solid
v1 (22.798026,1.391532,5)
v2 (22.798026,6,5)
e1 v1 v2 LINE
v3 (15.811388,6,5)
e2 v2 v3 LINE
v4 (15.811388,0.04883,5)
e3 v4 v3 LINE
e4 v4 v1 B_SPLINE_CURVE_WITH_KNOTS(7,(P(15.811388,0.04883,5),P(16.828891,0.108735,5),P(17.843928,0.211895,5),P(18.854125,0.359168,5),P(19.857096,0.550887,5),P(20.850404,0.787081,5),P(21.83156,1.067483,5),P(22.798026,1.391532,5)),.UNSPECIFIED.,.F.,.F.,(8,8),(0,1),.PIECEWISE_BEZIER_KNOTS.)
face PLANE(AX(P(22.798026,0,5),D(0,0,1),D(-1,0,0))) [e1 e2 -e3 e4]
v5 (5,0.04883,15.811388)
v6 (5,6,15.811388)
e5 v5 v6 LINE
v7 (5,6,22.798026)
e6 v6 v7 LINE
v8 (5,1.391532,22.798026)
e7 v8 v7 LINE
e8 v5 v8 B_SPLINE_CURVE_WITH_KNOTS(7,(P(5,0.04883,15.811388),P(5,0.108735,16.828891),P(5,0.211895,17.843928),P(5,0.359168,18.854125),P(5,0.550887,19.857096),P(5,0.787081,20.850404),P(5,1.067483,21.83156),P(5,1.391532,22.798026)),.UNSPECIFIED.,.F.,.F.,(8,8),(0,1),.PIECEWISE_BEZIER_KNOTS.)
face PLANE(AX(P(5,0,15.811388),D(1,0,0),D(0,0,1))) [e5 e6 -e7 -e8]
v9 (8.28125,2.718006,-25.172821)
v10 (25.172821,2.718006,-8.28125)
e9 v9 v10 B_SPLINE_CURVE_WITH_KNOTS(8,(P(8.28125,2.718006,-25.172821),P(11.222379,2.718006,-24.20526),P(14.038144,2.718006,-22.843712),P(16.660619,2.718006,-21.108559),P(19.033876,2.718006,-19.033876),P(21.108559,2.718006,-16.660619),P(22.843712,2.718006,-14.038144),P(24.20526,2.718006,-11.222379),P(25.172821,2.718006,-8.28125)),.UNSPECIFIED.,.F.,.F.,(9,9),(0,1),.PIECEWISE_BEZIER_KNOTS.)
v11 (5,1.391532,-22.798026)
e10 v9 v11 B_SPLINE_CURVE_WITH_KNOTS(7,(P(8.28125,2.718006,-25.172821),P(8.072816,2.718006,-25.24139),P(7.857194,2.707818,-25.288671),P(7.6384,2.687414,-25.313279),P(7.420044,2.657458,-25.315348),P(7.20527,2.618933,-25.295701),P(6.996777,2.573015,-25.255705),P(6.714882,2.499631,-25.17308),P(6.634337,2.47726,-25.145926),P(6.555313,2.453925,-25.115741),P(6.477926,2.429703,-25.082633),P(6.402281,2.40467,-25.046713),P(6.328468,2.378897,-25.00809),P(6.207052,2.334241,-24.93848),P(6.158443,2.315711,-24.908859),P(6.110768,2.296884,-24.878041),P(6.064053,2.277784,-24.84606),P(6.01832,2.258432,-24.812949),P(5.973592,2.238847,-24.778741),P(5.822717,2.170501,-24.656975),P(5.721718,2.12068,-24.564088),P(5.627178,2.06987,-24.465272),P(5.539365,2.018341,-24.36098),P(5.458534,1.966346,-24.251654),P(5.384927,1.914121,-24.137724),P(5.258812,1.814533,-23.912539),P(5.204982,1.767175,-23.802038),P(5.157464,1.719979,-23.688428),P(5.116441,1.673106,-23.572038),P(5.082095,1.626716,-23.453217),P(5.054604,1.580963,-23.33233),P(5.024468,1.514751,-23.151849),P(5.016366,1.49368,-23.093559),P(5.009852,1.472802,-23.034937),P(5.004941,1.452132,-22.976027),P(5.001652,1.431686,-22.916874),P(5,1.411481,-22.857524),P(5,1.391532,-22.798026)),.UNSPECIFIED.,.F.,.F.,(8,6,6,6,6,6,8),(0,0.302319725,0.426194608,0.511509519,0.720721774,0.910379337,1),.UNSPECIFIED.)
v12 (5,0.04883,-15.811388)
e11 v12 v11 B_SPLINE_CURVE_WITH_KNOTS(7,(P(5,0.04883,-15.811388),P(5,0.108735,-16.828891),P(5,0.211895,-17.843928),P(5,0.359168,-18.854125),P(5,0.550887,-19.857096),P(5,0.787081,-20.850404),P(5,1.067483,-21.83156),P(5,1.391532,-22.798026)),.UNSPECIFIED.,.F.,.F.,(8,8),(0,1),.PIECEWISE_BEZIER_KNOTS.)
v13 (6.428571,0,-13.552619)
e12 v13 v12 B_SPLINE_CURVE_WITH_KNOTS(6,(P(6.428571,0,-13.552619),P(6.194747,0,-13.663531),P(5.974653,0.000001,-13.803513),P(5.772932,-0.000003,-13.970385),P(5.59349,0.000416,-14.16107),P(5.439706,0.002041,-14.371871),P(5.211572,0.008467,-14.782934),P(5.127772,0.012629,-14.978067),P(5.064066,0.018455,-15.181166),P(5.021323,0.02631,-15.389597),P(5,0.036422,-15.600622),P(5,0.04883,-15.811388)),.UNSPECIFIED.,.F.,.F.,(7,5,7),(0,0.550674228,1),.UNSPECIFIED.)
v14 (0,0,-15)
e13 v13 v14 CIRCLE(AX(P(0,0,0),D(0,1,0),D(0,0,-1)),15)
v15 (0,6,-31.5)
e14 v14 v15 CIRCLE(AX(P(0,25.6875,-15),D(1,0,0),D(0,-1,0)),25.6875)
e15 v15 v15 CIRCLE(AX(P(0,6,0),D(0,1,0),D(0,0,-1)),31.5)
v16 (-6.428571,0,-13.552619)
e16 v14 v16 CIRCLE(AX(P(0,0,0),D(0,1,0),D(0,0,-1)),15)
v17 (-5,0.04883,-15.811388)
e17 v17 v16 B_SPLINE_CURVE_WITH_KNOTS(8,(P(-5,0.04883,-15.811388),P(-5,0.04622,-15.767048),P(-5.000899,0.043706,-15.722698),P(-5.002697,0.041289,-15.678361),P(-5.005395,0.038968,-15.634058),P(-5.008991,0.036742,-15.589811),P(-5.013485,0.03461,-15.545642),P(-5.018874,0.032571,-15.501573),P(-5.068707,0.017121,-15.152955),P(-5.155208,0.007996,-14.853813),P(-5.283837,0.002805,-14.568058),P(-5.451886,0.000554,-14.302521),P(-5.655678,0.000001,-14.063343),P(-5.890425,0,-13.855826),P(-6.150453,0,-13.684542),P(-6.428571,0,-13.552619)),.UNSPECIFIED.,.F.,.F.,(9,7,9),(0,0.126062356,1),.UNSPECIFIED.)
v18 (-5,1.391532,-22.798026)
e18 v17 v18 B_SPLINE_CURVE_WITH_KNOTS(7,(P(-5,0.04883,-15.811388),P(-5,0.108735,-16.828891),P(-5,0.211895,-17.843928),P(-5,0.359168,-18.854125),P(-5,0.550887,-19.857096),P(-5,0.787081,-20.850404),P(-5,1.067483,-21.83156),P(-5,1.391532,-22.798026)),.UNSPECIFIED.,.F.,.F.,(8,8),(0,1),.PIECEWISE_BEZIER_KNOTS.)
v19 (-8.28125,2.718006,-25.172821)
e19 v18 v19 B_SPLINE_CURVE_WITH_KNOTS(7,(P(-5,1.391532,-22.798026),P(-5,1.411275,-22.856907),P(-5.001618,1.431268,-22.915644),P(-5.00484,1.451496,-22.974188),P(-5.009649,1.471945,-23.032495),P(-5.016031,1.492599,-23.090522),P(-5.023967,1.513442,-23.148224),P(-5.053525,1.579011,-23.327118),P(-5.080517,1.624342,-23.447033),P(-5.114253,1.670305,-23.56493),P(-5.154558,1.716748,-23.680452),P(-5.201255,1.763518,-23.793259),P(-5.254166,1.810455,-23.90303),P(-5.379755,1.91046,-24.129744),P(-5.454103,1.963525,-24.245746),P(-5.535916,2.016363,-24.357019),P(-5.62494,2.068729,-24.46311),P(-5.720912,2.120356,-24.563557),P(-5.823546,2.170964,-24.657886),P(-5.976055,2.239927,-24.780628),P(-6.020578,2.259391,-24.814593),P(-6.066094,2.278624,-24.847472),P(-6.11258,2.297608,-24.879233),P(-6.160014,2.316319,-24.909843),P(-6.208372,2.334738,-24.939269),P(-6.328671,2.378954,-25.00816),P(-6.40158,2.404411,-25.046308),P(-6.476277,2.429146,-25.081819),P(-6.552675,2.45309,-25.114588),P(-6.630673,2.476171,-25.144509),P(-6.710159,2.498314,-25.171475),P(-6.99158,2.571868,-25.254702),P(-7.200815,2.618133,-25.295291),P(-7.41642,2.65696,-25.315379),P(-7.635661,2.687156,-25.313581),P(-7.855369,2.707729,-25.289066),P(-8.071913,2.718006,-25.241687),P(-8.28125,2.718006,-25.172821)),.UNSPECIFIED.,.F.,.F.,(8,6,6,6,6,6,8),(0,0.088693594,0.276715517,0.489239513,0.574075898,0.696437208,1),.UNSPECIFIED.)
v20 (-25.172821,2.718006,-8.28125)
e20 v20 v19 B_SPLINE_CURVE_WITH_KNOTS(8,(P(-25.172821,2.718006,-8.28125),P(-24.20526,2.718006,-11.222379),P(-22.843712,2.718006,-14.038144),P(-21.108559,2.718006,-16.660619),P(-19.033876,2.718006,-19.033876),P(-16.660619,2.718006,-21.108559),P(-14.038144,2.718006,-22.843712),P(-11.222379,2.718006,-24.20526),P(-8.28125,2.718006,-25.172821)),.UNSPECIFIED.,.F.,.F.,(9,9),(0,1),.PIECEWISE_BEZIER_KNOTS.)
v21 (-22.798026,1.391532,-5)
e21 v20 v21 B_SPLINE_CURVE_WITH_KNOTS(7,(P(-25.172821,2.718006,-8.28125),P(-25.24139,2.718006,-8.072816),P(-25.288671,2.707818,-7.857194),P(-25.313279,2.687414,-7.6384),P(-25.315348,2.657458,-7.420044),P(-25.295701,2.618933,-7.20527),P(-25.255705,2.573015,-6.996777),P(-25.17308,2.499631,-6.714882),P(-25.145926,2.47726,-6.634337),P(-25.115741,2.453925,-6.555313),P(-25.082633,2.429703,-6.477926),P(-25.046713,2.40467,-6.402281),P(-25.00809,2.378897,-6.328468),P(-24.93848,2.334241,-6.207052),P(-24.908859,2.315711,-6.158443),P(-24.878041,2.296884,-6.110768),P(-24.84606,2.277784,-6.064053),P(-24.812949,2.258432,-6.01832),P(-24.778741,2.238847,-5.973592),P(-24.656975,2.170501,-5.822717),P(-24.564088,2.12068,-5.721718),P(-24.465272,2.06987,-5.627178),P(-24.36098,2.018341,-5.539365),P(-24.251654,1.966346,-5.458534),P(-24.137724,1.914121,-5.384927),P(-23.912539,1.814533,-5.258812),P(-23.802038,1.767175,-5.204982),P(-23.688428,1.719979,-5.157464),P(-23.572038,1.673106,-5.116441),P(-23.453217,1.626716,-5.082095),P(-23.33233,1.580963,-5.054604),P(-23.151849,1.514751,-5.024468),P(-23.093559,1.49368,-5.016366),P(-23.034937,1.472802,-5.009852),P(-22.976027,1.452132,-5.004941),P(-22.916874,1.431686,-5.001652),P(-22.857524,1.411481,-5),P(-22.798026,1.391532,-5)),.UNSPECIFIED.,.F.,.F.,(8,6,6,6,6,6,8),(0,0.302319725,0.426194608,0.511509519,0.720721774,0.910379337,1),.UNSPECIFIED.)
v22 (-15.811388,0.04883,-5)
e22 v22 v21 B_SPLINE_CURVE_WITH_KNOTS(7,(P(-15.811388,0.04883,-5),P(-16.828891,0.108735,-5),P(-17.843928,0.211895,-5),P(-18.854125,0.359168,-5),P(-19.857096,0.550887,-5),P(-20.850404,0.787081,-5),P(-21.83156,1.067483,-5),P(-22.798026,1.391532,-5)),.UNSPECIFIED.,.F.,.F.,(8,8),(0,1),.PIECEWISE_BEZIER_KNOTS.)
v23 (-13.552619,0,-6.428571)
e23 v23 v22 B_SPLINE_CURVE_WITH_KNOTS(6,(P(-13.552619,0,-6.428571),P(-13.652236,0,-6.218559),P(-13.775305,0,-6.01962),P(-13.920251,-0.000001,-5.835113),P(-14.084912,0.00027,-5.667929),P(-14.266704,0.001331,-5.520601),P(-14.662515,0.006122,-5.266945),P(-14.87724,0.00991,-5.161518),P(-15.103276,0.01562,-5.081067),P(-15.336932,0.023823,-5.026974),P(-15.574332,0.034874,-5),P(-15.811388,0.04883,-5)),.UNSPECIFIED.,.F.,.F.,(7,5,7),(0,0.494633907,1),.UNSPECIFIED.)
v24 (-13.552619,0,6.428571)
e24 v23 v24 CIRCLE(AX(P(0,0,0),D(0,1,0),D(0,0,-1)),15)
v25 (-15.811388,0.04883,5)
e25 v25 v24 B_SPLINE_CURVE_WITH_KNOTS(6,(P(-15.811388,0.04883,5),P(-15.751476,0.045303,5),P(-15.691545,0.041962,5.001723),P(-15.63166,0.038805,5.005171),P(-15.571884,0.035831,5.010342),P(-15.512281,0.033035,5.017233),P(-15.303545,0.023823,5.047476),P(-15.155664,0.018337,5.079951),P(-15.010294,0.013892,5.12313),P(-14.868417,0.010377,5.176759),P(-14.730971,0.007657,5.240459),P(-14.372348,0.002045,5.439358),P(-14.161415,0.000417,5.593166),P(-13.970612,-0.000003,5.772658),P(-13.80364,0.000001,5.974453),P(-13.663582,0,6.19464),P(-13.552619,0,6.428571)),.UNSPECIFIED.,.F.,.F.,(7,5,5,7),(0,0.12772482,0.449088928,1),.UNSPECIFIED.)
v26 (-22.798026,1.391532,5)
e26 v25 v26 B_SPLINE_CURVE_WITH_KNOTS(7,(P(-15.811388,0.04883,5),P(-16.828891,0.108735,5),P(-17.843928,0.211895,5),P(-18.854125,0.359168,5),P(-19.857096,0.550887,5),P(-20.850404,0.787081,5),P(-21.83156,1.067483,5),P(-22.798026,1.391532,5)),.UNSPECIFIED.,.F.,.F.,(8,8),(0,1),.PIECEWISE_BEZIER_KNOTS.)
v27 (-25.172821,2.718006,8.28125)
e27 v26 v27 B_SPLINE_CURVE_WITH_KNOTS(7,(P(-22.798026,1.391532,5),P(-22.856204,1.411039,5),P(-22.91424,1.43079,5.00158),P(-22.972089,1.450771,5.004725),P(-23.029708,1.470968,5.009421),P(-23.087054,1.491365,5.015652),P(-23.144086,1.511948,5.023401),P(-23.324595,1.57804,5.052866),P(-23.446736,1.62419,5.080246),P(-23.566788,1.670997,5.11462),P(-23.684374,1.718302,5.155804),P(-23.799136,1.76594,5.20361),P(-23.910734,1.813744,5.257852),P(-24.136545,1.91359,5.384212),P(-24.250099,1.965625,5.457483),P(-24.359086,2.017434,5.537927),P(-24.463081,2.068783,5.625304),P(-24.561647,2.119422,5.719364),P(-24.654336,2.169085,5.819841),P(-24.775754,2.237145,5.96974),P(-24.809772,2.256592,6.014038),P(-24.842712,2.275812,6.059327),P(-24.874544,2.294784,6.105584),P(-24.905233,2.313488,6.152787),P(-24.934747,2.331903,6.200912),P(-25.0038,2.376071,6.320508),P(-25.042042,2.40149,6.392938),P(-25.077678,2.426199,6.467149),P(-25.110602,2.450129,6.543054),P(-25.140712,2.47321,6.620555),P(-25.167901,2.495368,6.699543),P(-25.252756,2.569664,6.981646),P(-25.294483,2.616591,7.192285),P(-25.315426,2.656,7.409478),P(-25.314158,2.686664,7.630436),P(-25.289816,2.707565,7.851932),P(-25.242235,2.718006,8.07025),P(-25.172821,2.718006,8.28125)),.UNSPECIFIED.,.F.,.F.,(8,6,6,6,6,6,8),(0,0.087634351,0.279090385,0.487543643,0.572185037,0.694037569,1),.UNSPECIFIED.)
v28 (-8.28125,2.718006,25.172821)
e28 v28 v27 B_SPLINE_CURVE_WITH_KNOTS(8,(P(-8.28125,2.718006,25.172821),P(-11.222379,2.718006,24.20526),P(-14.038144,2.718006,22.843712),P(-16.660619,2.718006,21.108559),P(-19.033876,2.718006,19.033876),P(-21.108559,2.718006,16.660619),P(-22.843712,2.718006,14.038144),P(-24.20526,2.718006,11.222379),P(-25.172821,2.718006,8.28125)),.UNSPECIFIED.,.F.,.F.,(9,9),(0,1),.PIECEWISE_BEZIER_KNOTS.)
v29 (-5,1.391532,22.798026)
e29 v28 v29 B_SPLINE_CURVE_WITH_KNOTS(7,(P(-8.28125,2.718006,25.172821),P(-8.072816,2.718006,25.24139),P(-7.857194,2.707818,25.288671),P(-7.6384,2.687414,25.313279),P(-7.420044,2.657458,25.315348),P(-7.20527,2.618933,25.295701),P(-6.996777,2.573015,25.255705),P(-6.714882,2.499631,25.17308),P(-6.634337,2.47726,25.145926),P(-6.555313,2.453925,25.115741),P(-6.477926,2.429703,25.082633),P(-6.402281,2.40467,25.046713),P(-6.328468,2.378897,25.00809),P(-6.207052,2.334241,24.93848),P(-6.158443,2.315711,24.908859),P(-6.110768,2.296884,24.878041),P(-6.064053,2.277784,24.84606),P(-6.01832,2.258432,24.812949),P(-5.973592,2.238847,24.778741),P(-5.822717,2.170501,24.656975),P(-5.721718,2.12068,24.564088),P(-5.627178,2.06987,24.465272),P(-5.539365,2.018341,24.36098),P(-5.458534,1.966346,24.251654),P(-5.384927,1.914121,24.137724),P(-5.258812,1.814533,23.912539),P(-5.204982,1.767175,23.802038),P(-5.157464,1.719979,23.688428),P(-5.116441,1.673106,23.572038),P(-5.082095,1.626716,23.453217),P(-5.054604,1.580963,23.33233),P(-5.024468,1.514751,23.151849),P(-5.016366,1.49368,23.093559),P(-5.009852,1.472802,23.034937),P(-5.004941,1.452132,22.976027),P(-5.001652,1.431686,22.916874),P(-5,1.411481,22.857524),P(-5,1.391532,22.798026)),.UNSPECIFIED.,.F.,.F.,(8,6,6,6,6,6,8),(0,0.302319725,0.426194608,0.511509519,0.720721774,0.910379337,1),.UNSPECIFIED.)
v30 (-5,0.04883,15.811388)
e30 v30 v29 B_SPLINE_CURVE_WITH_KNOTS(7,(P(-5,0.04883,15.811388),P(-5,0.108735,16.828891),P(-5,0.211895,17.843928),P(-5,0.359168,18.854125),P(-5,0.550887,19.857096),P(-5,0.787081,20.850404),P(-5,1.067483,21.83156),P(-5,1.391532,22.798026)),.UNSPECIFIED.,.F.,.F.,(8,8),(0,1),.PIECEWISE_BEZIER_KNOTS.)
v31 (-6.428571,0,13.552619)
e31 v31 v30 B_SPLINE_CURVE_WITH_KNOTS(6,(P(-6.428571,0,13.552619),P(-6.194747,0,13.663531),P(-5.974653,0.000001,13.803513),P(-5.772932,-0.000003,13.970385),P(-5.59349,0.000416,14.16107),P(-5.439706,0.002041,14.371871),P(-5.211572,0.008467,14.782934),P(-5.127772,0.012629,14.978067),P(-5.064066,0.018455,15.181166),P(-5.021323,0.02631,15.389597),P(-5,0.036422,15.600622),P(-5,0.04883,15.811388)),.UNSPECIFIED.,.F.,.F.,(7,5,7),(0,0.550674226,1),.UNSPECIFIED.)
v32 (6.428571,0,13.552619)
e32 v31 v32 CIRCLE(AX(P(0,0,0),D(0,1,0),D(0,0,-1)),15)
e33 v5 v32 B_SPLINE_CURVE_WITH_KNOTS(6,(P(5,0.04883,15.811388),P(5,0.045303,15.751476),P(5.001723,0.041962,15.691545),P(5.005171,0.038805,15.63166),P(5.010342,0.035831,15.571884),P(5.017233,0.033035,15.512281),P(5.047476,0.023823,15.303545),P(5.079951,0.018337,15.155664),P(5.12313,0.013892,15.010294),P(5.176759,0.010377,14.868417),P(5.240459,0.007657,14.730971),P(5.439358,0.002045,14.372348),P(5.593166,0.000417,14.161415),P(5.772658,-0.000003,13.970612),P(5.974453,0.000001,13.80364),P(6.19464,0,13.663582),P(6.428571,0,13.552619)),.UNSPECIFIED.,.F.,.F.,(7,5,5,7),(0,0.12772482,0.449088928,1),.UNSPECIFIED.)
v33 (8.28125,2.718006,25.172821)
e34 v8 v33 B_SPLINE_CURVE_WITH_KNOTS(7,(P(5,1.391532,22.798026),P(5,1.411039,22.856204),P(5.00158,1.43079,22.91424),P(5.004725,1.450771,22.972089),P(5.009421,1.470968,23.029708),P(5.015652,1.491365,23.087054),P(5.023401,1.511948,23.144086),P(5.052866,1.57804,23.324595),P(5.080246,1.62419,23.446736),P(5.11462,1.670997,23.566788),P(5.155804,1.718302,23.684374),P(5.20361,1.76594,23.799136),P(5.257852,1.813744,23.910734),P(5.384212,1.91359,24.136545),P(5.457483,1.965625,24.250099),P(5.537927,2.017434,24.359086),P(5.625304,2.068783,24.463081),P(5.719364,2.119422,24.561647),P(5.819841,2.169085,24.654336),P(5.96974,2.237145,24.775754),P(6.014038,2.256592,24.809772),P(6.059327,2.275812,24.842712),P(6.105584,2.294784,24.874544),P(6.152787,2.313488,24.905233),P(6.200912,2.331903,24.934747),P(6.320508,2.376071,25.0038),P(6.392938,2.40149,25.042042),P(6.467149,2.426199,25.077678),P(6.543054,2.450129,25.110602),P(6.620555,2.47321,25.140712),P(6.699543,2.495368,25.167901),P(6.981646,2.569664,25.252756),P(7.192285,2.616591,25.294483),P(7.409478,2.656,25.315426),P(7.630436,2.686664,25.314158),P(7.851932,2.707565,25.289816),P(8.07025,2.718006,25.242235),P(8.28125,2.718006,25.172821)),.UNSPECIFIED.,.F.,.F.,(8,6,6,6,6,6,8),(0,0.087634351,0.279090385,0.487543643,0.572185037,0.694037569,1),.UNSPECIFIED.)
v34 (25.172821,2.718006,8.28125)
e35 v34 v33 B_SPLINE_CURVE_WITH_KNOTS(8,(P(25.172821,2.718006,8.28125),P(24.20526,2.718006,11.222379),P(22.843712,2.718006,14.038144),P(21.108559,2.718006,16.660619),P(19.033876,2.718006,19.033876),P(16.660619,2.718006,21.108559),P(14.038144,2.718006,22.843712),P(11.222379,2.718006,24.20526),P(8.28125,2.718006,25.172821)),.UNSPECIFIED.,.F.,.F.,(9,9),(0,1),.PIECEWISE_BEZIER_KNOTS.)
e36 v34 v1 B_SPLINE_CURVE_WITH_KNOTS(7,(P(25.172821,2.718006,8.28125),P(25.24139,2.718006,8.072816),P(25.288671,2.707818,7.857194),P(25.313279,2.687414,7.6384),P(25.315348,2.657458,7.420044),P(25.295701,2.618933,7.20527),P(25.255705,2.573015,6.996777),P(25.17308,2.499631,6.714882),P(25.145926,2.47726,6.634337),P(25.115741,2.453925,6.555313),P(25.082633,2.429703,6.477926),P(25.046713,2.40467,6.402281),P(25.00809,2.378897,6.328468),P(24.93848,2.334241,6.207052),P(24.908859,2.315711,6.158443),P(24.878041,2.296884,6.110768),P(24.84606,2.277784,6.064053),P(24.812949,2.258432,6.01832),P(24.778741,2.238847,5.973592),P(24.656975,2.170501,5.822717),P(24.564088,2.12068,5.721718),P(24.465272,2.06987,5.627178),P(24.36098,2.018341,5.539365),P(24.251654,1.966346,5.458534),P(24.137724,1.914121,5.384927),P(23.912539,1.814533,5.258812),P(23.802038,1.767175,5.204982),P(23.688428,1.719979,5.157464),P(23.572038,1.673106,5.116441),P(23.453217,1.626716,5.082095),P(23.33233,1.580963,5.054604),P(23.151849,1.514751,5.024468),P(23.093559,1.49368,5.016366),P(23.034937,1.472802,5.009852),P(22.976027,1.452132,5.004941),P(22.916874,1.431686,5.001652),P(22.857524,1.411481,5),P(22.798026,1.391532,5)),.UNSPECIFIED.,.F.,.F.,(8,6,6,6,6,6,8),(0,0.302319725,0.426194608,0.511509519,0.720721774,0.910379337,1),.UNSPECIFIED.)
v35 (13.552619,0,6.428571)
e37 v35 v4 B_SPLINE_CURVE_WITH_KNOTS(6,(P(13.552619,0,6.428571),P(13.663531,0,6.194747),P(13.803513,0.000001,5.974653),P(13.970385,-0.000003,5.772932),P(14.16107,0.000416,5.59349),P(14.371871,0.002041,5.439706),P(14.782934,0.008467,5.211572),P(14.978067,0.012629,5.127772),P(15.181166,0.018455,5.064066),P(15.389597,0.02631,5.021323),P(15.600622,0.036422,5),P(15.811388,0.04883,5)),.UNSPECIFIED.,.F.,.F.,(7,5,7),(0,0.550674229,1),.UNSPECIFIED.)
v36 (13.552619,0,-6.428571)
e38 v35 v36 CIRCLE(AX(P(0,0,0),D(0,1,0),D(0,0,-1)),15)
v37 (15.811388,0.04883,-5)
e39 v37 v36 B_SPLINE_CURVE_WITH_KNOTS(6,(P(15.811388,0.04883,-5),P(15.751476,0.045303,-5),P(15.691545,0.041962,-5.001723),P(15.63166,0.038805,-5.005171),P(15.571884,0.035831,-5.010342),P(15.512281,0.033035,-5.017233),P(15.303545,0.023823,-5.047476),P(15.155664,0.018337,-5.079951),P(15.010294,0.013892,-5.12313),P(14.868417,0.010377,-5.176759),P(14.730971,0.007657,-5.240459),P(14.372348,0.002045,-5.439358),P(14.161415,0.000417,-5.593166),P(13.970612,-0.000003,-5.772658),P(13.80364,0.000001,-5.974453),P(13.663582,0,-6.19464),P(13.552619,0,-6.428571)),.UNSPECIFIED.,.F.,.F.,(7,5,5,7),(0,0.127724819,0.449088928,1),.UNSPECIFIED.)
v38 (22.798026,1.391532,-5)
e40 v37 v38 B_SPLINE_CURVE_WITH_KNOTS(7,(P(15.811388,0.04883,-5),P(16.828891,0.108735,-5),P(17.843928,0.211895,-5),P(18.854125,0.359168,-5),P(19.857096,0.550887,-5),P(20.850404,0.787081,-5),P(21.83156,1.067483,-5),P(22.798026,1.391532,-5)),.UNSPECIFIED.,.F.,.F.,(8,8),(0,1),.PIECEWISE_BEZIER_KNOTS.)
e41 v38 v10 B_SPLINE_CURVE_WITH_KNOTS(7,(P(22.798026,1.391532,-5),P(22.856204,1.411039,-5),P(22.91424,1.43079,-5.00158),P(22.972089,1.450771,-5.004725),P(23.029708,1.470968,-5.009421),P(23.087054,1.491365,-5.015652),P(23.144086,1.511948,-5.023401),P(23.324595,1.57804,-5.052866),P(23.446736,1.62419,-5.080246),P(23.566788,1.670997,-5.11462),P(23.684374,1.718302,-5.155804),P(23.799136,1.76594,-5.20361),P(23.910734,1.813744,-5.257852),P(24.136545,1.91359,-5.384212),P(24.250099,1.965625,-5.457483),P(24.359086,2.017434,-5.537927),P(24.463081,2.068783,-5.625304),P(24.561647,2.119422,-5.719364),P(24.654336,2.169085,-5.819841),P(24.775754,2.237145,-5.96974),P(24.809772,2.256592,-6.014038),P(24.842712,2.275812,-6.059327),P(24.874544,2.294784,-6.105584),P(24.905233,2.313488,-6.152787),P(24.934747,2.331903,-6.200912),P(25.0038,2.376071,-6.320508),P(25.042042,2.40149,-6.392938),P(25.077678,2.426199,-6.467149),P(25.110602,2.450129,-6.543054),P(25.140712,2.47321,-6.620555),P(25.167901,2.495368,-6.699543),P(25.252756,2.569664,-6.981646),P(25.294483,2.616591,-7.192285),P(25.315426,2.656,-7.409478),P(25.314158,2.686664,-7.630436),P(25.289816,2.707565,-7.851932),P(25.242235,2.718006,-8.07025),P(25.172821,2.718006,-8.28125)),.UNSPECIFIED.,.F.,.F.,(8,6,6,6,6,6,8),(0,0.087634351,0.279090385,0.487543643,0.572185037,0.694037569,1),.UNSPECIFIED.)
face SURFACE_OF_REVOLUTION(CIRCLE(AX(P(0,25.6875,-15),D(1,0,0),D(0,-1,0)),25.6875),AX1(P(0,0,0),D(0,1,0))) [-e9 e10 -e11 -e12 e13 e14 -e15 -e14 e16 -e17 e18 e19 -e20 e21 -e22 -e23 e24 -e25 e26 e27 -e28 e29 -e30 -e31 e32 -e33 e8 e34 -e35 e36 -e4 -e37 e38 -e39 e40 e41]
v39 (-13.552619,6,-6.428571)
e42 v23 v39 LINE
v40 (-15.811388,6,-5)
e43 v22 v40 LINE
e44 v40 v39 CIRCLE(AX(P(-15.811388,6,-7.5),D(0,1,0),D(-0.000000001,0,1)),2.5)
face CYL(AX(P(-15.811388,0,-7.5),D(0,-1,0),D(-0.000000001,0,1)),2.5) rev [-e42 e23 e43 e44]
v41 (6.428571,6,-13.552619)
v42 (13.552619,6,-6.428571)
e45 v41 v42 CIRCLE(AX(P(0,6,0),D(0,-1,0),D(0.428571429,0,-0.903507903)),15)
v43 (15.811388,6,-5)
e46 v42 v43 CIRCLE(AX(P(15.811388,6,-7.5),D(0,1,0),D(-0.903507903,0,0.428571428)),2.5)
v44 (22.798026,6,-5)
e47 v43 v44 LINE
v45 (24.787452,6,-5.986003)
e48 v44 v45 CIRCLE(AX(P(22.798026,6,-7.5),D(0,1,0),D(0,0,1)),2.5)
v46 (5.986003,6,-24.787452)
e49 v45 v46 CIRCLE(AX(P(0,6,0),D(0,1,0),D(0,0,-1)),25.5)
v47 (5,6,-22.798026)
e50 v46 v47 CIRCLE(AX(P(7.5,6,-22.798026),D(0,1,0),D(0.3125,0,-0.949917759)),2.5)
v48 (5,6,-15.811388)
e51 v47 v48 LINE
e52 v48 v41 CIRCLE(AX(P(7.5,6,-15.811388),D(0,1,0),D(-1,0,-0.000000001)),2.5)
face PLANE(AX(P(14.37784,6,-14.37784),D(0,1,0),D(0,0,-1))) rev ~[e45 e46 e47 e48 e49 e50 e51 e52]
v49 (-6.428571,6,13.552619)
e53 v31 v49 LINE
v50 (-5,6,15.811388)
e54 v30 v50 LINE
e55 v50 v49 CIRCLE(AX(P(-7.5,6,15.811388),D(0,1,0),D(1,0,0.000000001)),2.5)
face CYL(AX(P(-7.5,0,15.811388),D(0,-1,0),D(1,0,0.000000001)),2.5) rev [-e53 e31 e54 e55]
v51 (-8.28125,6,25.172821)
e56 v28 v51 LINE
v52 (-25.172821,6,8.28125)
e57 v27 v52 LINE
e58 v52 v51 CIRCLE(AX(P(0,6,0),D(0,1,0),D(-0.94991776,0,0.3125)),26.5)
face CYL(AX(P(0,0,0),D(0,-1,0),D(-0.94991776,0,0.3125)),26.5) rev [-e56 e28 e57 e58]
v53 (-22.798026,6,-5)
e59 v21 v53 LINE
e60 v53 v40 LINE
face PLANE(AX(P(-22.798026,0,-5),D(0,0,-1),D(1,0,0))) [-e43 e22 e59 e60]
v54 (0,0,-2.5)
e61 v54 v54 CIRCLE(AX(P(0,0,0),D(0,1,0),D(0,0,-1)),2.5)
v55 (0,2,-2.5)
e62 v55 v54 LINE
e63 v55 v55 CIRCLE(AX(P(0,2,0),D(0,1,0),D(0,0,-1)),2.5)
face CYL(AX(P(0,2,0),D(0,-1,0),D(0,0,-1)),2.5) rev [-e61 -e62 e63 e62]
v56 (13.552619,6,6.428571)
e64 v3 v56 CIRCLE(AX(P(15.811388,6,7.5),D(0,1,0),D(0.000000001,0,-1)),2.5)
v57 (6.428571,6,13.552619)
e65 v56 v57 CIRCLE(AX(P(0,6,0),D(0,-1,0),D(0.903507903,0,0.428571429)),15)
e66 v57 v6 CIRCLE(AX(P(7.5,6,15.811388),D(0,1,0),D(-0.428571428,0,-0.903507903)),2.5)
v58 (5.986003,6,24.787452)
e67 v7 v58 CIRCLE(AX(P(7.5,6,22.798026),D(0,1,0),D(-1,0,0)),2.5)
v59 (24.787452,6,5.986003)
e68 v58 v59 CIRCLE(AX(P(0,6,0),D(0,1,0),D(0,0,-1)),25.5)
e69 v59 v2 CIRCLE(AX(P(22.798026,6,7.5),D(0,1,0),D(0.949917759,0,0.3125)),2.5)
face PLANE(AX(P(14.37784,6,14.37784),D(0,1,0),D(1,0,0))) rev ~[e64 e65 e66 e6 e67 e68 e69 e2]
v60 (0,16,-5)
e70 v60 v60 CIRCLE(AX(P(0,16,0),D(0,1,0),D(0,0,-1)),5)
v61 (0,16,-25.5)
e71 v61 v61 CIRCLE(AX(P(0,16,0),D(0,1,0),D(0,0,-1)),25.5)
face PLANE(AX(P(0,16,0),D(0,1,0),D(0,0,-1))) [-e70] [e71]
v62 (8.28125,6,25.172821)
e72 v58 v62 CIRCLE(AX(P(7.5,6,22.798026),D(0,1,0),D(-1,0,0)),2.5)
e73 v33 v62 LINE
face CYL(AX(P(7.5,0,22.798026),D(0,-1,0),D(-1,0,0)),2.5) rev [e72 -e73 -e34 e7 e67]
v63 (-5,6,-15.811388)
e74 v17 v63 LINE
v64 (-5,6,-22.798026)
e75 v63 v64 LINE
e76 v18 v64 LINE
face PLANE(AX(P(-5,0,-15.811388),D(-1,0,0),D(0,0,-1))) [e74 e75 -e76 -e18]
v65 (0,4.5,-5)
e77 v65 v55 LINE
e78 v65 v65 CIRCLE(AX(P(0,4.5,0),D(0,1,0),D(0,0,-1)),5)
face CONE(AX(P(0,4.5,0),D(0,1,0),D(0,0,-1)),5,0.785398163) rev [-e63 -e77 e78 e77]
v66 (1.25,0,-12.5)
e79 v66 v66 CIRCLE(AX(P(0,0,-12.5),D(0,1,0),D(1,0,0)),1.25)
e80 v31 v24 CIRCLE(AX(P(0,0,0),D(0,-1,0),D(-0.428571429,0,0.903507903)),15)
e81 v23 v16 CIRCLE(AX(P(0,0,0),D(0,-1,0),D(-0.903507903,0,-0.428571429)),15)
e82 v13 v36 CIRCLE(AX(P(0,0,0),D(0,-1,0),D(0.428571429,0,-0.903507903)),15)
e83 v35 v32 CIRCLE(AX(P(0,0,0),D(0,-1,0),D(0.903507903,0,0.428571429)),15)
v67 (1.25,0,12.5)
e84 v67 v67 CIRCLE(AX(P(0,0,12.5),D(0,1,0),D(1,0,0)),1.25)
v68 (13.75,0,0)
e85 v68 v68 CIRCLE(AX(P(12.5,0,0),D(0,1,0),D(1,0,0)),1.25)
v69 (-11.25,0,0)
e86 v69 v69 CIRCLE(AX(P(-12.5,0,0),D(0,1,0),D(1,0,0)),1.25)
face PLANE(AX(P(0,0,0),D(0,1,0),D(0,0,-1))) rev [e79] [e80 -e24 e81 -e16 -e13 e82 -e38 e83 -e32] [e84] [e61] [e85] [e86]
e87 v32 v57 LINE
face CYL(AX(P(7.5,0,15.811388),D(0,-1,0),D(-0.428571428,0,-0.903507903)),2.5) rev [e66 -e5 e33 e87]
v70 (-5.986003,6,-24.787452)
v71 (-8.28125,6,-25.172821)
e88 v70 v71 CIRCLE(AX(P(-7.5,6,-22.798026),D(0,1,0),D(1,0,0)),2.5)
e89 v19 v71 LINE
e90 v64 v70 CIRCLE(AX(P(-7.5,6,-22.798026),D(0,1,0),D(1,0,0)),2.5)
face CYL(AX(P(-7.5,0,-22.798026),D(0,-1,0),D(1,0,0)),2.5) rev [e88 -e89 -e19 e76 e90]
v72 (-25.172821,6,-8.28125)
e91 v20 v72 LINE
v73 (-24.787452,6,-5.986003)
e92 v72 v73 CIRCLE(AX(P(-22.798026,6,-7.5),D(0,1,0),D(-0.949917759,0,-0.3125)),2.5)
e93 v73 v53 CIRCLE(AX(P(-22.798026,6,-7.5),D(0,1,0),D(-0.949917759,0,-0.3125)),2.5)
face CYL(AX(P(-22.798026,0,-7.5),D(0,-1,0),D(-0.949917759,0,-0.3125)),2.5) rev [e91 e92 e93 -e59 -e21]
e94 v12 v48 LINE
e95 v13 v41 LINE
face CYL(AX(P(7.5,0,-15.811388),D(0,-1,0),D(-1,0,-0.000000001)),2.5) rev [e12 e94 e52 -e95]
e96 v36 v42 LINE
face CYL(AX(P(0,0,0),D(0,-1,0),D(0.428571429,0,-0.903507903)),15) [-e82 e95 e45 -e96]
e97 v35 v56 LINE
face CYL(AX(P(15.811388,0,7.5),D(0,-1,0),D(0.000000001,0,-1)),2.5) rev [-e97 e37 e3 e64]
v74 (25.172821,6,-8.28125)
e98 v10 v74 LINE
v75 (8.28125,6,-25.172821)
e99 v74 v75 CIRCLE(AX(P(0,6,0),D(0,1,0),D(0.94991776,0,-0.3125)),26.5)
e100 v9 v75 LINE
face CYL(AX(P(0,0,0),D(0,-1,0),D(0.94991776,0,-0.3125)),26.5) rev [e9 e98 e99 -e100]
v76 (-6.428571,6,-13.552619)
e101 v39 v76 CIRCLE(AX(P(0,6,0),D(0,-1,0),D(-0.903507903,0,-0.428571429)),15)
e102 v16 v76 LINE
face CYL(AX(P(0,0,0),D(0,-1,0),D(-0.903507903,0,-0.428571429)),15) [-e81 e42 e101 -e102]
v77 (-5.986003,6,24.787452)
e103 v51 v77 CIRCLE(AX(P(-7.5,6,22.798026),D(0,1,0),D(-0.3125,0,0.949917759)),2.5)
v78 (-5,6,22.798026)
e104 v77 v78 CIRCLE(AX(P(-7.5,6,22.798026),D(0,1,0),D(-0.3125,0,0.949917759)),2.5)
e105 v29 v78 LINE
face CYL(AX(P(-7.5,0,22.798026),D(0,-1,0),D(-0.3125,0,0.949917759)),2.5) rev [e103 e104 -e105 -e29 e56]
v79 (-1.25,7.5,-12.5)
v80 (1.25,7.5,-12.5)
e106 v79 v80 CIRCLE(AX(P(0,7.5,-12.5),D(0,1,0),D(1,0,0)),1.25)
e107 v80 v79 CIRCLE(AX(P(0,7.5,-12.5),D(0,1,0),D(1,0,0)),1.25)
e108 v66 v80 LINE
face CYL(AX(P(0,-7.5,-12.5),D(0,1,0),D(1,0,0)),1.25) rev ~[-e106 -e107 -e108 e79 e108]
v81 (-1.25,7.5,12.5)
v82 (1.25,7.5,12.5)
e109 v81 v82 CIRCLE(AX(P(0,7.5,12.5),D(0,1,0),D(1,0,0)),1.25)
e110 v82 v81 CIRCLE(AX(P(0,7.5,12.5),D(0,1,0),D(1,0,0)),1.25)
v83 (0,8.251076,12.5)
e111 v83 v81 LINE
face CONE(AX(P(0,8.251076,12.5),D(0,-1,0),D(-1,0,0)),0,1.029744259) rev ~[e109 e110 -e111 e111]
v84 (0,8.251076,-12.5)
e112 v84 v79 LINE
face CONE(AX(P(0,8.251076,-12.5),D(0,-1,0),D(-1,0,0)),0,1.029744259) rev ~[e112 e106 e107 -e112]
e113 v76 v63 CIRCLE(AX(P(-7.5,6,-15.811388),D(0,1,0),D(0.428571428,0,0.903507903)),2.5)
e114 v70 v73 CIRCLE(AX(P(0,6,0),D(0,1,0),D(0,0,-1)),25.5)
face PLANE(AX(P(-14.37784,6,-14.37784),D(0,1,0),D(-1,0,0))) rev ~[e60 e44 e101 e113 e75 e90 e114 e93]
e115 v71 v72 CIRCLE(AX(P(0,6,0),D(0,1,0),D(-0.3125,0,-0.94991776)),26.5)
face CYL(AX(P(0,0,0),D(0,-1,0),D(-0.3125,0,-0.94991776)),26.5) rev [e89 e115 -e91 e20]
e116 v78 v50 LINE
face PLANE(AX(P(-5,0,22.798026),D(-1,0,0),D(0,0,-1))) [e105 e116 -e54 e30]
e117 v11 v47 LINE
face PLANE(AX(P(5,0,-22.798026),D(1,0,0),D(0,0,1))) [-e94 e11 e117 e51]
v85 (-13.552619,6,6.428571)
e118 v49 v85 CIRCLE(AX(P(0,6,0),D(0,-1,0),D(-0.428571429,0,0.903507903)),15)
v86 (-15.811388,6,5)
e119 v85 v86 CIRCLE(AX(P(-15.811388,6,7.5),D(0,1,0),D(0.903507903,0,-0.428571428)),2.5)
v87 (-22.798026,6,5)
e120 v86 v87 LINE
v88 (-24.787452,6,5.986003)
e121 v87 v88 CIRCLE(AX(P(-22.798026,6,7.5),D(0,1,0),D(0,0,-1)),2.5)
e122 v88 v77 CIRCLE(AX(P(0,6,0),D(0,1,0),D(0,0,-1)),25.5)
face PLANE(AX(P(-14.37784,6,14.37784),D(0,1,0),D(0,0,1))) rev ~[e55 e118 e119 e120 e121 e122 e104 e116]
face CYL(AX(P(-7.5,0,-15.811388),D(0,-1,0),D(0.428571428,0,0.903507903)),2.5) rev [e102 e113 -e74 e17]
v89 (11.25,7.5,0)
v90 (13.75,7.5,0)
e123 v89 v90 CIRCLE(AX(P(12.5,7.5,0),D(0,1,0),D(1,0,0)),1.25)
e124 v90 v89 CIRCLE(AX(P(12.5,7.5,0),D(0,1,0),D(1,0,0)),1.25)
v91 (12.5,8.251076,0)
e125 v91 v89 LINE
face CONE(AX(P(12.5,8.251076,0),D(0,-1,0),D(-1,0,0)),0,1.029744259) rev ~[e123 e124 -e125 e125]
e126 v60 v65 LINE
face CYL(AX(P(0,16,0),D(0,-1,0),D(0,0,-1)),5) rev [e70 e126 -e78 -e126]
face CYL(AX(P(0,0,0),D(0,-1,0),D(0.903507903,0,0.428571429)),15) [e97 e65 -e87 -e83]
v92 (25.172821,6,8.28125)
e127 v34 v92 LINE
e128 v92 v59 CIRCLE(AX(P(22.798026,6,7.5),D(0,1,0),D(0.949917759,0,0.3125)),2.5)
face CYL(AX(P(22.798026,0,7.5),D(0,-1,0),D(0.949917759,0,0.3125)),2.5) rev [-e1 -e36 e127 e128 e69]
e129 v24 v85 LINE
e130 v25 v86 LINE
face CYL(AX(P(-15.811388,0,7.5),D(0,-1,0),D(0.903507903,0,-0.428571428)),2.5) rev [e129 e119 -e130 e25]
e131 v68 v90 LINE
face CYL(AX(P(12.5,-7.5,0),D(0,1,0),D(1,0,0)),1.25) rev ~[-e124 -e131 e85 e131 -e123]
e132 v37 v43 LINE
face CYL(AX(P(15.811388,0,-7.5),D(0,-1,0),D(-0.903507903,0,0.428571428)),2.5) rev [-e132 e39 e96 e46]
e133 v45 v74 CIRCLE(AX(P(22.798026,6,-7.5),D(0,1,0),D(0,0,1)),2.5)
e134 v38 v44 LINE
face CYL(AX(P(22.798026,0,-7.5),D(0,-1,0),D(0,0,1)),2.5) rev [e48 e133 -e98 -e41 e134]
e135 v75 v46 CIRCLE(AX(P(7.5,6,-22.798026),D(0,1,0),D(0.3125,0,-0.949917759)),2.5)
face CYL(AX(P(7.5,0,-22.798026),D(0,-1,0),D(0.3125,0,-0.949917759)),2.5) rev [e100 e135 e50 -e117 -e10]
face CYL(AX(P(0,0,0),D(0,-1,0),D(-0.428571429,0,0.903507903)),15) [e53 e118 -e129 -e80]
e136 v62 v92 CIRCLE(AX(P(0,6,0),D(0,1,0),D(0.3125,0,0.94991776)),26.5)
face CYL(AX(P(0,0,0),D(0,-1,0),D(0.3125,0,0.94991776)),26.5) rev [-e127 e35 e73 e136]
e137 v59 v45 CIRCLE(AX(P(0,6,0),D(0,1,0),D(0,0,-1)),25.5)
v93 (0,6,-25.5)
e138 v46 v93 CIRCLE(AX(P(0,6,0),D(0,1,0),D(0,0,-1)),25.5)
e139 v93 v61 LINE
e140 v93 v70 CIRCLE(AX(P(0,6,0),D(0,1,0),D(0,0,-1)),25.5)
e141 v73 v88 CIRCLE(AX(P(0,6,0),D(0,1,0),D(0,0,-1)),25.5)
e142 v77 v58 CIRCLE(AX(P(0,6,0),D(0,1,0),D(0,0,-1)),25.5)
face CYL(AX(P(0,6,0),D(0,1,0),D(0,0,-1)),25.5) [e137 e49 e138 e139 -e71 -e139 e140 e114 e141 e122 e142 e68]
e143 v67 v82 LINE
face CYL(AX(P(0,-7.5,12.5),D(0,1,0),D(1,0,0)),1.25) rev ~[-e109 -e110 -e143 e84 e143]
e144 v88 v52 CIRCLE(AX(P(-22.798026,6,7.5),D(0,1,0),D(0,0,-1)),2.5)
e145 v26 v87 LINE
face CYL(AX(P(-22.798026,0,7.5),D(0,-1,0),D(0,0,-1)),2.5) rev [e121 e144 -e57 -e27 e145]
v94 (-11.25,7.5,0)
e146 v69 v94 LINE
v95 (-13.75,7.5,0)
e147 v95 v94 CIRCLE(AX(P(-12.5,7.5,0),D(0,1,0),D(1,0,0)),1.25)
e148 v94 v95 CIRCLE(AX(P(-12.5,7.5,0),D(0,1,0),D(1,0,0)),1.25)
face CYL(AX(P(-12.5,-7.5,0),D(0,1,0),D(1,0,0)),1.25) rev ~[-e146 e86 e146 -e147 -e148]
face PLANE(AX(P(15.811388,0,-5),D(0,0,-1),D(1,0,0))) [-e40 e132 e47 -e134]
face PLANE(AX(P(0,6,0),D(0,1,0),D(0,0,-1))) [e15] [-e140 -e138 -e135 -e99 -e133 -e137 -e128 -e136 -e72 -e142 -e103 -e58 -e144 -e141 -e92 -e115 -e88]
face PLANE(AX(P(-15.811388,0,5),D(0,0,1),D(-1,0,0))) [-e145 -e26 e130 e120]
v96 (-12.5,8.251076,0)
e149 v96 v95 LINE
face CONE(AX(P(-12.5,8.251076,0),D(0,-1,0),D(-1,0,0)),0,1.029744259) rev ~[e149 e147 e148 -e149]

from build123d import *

# Parameters (mm, degrees)
M3X0_5_TAPPED_HOLE1_D     = 2.5
M3X0_5_TAPPED_HOLE1_DEPTH = 7.5
M3X0_5_TAPPED_HOLE1_TIP   = 0.751075774
CUT_EXTRUDE1_DEPTH        = 6
CIRPATTERN1_COUNT         = 4


with BuildPart() as part:
    # Sketch1 → Revolve1 (revolve)
    with BuildSketch(Plane.XY, mode=Mode.PRIVATE) as revolve1_sk:
        with BuildLine():
            Line((-2.5, 2), (-2.5, 0))
            Line((-2.5, 0), (-15, 0))
            ThreePointArc((-15, 0), (-23.778524933, 1.546556434), (-31.5, 6))
            Line((-31.5, 6), (-25.5, 6))
            Line((-25.5, 6), (-25.5, 16))
            Line((-25.5, 16), (-5, 16))
            Line((-5, 16), (-5, 4.5))
            Line((-5, 4.5), (-2.5, 2))
        make_face()
    revolve(revolve1_sk.sketch.rotate(Axis((0, 0, 0), (0, 1, 0)), 270), axis=Axis((0, 0, 0), (0, 1, 0)))

    # M3x0.5 Tapped Hole1
    with Locations(Plane(origin=(0, 0, 0), x_dir=(-1, 0, 0), z_dir=(0, -1, 0))):
        with Locations((12.5, 0), (-12.5, 0), (0, 12.5), (0, -12.5)):
            Hole(M3X0_5_TAPPED_HOLE1_D / 2, depth=M3X0_5_TAPPED_HOLE1_DEPTH)
            with Locations((0, 0, -(M3X0_5_TAPPED_HOLE1_DEPTH + M3X0_5_TAPPED_HOLE1_TIP / 2))):  # 118° drill point
                Cone(0, M3X0_5_TAPPED_HOLE1_D / 2, M3X0_5_TAPPED_HOLE1_TIP, mode=Mode.SUBTRACT)

    # Sketch4 → Cut-Extrude1 (cut)
    with BuildSketch(Plane.XZ):
        with BuildLine():
            Line((-5, -15.811388301), (-5, -22.79802623))
            ThreePointArc((-5, -22.79802623), (-6.034245075, -24.823257699), (-8.28125, -25.172820629))
            ThreePointArc((-8.28125, -25.172820629), (-18.738329701, -18.738329701), (-25.172820629, -8.28125))
            ThreePointArc((-25.172820629, -8.28125), (-24.823257699, -6.034245075), (-22.79802623, -5))
            Line((-22.79802623, -5), (-15.811388301, -5))
            ThreePointArc((-15.811388301, -5), (-14.475082091, -5.387114363), (-13.552618544, -6.428571429))
            ThreePointArc((-13.552618544, -6.428571429), (-10.606601718, -10.606601718), (-6.428571429, -13.552618544))
            ThreePointArc((-6.428571429, -13.552618544), (-5.387114363, -14.475082091), (-5, -15.811388301))
        make_face()
    cut_extrude1 = extrude(amount=-CUT_EXTRUDE1_DEPTH, mode=Mode.SUBTRACT)

    # CirPattern1: Cut-Extrude1 ×4 about axis
    cirpattern1_axis = Axis((0, 0, 0), (0, 1, 0))
    for i in range(1, CIRPATTERN1_COUNT):
        add(cut_extrude1.rotate(cirpattern1_axis, i * 360 / CIRPATTERN1_COUNT), mode=Mode.SUBTRACT)


solid = part.part
